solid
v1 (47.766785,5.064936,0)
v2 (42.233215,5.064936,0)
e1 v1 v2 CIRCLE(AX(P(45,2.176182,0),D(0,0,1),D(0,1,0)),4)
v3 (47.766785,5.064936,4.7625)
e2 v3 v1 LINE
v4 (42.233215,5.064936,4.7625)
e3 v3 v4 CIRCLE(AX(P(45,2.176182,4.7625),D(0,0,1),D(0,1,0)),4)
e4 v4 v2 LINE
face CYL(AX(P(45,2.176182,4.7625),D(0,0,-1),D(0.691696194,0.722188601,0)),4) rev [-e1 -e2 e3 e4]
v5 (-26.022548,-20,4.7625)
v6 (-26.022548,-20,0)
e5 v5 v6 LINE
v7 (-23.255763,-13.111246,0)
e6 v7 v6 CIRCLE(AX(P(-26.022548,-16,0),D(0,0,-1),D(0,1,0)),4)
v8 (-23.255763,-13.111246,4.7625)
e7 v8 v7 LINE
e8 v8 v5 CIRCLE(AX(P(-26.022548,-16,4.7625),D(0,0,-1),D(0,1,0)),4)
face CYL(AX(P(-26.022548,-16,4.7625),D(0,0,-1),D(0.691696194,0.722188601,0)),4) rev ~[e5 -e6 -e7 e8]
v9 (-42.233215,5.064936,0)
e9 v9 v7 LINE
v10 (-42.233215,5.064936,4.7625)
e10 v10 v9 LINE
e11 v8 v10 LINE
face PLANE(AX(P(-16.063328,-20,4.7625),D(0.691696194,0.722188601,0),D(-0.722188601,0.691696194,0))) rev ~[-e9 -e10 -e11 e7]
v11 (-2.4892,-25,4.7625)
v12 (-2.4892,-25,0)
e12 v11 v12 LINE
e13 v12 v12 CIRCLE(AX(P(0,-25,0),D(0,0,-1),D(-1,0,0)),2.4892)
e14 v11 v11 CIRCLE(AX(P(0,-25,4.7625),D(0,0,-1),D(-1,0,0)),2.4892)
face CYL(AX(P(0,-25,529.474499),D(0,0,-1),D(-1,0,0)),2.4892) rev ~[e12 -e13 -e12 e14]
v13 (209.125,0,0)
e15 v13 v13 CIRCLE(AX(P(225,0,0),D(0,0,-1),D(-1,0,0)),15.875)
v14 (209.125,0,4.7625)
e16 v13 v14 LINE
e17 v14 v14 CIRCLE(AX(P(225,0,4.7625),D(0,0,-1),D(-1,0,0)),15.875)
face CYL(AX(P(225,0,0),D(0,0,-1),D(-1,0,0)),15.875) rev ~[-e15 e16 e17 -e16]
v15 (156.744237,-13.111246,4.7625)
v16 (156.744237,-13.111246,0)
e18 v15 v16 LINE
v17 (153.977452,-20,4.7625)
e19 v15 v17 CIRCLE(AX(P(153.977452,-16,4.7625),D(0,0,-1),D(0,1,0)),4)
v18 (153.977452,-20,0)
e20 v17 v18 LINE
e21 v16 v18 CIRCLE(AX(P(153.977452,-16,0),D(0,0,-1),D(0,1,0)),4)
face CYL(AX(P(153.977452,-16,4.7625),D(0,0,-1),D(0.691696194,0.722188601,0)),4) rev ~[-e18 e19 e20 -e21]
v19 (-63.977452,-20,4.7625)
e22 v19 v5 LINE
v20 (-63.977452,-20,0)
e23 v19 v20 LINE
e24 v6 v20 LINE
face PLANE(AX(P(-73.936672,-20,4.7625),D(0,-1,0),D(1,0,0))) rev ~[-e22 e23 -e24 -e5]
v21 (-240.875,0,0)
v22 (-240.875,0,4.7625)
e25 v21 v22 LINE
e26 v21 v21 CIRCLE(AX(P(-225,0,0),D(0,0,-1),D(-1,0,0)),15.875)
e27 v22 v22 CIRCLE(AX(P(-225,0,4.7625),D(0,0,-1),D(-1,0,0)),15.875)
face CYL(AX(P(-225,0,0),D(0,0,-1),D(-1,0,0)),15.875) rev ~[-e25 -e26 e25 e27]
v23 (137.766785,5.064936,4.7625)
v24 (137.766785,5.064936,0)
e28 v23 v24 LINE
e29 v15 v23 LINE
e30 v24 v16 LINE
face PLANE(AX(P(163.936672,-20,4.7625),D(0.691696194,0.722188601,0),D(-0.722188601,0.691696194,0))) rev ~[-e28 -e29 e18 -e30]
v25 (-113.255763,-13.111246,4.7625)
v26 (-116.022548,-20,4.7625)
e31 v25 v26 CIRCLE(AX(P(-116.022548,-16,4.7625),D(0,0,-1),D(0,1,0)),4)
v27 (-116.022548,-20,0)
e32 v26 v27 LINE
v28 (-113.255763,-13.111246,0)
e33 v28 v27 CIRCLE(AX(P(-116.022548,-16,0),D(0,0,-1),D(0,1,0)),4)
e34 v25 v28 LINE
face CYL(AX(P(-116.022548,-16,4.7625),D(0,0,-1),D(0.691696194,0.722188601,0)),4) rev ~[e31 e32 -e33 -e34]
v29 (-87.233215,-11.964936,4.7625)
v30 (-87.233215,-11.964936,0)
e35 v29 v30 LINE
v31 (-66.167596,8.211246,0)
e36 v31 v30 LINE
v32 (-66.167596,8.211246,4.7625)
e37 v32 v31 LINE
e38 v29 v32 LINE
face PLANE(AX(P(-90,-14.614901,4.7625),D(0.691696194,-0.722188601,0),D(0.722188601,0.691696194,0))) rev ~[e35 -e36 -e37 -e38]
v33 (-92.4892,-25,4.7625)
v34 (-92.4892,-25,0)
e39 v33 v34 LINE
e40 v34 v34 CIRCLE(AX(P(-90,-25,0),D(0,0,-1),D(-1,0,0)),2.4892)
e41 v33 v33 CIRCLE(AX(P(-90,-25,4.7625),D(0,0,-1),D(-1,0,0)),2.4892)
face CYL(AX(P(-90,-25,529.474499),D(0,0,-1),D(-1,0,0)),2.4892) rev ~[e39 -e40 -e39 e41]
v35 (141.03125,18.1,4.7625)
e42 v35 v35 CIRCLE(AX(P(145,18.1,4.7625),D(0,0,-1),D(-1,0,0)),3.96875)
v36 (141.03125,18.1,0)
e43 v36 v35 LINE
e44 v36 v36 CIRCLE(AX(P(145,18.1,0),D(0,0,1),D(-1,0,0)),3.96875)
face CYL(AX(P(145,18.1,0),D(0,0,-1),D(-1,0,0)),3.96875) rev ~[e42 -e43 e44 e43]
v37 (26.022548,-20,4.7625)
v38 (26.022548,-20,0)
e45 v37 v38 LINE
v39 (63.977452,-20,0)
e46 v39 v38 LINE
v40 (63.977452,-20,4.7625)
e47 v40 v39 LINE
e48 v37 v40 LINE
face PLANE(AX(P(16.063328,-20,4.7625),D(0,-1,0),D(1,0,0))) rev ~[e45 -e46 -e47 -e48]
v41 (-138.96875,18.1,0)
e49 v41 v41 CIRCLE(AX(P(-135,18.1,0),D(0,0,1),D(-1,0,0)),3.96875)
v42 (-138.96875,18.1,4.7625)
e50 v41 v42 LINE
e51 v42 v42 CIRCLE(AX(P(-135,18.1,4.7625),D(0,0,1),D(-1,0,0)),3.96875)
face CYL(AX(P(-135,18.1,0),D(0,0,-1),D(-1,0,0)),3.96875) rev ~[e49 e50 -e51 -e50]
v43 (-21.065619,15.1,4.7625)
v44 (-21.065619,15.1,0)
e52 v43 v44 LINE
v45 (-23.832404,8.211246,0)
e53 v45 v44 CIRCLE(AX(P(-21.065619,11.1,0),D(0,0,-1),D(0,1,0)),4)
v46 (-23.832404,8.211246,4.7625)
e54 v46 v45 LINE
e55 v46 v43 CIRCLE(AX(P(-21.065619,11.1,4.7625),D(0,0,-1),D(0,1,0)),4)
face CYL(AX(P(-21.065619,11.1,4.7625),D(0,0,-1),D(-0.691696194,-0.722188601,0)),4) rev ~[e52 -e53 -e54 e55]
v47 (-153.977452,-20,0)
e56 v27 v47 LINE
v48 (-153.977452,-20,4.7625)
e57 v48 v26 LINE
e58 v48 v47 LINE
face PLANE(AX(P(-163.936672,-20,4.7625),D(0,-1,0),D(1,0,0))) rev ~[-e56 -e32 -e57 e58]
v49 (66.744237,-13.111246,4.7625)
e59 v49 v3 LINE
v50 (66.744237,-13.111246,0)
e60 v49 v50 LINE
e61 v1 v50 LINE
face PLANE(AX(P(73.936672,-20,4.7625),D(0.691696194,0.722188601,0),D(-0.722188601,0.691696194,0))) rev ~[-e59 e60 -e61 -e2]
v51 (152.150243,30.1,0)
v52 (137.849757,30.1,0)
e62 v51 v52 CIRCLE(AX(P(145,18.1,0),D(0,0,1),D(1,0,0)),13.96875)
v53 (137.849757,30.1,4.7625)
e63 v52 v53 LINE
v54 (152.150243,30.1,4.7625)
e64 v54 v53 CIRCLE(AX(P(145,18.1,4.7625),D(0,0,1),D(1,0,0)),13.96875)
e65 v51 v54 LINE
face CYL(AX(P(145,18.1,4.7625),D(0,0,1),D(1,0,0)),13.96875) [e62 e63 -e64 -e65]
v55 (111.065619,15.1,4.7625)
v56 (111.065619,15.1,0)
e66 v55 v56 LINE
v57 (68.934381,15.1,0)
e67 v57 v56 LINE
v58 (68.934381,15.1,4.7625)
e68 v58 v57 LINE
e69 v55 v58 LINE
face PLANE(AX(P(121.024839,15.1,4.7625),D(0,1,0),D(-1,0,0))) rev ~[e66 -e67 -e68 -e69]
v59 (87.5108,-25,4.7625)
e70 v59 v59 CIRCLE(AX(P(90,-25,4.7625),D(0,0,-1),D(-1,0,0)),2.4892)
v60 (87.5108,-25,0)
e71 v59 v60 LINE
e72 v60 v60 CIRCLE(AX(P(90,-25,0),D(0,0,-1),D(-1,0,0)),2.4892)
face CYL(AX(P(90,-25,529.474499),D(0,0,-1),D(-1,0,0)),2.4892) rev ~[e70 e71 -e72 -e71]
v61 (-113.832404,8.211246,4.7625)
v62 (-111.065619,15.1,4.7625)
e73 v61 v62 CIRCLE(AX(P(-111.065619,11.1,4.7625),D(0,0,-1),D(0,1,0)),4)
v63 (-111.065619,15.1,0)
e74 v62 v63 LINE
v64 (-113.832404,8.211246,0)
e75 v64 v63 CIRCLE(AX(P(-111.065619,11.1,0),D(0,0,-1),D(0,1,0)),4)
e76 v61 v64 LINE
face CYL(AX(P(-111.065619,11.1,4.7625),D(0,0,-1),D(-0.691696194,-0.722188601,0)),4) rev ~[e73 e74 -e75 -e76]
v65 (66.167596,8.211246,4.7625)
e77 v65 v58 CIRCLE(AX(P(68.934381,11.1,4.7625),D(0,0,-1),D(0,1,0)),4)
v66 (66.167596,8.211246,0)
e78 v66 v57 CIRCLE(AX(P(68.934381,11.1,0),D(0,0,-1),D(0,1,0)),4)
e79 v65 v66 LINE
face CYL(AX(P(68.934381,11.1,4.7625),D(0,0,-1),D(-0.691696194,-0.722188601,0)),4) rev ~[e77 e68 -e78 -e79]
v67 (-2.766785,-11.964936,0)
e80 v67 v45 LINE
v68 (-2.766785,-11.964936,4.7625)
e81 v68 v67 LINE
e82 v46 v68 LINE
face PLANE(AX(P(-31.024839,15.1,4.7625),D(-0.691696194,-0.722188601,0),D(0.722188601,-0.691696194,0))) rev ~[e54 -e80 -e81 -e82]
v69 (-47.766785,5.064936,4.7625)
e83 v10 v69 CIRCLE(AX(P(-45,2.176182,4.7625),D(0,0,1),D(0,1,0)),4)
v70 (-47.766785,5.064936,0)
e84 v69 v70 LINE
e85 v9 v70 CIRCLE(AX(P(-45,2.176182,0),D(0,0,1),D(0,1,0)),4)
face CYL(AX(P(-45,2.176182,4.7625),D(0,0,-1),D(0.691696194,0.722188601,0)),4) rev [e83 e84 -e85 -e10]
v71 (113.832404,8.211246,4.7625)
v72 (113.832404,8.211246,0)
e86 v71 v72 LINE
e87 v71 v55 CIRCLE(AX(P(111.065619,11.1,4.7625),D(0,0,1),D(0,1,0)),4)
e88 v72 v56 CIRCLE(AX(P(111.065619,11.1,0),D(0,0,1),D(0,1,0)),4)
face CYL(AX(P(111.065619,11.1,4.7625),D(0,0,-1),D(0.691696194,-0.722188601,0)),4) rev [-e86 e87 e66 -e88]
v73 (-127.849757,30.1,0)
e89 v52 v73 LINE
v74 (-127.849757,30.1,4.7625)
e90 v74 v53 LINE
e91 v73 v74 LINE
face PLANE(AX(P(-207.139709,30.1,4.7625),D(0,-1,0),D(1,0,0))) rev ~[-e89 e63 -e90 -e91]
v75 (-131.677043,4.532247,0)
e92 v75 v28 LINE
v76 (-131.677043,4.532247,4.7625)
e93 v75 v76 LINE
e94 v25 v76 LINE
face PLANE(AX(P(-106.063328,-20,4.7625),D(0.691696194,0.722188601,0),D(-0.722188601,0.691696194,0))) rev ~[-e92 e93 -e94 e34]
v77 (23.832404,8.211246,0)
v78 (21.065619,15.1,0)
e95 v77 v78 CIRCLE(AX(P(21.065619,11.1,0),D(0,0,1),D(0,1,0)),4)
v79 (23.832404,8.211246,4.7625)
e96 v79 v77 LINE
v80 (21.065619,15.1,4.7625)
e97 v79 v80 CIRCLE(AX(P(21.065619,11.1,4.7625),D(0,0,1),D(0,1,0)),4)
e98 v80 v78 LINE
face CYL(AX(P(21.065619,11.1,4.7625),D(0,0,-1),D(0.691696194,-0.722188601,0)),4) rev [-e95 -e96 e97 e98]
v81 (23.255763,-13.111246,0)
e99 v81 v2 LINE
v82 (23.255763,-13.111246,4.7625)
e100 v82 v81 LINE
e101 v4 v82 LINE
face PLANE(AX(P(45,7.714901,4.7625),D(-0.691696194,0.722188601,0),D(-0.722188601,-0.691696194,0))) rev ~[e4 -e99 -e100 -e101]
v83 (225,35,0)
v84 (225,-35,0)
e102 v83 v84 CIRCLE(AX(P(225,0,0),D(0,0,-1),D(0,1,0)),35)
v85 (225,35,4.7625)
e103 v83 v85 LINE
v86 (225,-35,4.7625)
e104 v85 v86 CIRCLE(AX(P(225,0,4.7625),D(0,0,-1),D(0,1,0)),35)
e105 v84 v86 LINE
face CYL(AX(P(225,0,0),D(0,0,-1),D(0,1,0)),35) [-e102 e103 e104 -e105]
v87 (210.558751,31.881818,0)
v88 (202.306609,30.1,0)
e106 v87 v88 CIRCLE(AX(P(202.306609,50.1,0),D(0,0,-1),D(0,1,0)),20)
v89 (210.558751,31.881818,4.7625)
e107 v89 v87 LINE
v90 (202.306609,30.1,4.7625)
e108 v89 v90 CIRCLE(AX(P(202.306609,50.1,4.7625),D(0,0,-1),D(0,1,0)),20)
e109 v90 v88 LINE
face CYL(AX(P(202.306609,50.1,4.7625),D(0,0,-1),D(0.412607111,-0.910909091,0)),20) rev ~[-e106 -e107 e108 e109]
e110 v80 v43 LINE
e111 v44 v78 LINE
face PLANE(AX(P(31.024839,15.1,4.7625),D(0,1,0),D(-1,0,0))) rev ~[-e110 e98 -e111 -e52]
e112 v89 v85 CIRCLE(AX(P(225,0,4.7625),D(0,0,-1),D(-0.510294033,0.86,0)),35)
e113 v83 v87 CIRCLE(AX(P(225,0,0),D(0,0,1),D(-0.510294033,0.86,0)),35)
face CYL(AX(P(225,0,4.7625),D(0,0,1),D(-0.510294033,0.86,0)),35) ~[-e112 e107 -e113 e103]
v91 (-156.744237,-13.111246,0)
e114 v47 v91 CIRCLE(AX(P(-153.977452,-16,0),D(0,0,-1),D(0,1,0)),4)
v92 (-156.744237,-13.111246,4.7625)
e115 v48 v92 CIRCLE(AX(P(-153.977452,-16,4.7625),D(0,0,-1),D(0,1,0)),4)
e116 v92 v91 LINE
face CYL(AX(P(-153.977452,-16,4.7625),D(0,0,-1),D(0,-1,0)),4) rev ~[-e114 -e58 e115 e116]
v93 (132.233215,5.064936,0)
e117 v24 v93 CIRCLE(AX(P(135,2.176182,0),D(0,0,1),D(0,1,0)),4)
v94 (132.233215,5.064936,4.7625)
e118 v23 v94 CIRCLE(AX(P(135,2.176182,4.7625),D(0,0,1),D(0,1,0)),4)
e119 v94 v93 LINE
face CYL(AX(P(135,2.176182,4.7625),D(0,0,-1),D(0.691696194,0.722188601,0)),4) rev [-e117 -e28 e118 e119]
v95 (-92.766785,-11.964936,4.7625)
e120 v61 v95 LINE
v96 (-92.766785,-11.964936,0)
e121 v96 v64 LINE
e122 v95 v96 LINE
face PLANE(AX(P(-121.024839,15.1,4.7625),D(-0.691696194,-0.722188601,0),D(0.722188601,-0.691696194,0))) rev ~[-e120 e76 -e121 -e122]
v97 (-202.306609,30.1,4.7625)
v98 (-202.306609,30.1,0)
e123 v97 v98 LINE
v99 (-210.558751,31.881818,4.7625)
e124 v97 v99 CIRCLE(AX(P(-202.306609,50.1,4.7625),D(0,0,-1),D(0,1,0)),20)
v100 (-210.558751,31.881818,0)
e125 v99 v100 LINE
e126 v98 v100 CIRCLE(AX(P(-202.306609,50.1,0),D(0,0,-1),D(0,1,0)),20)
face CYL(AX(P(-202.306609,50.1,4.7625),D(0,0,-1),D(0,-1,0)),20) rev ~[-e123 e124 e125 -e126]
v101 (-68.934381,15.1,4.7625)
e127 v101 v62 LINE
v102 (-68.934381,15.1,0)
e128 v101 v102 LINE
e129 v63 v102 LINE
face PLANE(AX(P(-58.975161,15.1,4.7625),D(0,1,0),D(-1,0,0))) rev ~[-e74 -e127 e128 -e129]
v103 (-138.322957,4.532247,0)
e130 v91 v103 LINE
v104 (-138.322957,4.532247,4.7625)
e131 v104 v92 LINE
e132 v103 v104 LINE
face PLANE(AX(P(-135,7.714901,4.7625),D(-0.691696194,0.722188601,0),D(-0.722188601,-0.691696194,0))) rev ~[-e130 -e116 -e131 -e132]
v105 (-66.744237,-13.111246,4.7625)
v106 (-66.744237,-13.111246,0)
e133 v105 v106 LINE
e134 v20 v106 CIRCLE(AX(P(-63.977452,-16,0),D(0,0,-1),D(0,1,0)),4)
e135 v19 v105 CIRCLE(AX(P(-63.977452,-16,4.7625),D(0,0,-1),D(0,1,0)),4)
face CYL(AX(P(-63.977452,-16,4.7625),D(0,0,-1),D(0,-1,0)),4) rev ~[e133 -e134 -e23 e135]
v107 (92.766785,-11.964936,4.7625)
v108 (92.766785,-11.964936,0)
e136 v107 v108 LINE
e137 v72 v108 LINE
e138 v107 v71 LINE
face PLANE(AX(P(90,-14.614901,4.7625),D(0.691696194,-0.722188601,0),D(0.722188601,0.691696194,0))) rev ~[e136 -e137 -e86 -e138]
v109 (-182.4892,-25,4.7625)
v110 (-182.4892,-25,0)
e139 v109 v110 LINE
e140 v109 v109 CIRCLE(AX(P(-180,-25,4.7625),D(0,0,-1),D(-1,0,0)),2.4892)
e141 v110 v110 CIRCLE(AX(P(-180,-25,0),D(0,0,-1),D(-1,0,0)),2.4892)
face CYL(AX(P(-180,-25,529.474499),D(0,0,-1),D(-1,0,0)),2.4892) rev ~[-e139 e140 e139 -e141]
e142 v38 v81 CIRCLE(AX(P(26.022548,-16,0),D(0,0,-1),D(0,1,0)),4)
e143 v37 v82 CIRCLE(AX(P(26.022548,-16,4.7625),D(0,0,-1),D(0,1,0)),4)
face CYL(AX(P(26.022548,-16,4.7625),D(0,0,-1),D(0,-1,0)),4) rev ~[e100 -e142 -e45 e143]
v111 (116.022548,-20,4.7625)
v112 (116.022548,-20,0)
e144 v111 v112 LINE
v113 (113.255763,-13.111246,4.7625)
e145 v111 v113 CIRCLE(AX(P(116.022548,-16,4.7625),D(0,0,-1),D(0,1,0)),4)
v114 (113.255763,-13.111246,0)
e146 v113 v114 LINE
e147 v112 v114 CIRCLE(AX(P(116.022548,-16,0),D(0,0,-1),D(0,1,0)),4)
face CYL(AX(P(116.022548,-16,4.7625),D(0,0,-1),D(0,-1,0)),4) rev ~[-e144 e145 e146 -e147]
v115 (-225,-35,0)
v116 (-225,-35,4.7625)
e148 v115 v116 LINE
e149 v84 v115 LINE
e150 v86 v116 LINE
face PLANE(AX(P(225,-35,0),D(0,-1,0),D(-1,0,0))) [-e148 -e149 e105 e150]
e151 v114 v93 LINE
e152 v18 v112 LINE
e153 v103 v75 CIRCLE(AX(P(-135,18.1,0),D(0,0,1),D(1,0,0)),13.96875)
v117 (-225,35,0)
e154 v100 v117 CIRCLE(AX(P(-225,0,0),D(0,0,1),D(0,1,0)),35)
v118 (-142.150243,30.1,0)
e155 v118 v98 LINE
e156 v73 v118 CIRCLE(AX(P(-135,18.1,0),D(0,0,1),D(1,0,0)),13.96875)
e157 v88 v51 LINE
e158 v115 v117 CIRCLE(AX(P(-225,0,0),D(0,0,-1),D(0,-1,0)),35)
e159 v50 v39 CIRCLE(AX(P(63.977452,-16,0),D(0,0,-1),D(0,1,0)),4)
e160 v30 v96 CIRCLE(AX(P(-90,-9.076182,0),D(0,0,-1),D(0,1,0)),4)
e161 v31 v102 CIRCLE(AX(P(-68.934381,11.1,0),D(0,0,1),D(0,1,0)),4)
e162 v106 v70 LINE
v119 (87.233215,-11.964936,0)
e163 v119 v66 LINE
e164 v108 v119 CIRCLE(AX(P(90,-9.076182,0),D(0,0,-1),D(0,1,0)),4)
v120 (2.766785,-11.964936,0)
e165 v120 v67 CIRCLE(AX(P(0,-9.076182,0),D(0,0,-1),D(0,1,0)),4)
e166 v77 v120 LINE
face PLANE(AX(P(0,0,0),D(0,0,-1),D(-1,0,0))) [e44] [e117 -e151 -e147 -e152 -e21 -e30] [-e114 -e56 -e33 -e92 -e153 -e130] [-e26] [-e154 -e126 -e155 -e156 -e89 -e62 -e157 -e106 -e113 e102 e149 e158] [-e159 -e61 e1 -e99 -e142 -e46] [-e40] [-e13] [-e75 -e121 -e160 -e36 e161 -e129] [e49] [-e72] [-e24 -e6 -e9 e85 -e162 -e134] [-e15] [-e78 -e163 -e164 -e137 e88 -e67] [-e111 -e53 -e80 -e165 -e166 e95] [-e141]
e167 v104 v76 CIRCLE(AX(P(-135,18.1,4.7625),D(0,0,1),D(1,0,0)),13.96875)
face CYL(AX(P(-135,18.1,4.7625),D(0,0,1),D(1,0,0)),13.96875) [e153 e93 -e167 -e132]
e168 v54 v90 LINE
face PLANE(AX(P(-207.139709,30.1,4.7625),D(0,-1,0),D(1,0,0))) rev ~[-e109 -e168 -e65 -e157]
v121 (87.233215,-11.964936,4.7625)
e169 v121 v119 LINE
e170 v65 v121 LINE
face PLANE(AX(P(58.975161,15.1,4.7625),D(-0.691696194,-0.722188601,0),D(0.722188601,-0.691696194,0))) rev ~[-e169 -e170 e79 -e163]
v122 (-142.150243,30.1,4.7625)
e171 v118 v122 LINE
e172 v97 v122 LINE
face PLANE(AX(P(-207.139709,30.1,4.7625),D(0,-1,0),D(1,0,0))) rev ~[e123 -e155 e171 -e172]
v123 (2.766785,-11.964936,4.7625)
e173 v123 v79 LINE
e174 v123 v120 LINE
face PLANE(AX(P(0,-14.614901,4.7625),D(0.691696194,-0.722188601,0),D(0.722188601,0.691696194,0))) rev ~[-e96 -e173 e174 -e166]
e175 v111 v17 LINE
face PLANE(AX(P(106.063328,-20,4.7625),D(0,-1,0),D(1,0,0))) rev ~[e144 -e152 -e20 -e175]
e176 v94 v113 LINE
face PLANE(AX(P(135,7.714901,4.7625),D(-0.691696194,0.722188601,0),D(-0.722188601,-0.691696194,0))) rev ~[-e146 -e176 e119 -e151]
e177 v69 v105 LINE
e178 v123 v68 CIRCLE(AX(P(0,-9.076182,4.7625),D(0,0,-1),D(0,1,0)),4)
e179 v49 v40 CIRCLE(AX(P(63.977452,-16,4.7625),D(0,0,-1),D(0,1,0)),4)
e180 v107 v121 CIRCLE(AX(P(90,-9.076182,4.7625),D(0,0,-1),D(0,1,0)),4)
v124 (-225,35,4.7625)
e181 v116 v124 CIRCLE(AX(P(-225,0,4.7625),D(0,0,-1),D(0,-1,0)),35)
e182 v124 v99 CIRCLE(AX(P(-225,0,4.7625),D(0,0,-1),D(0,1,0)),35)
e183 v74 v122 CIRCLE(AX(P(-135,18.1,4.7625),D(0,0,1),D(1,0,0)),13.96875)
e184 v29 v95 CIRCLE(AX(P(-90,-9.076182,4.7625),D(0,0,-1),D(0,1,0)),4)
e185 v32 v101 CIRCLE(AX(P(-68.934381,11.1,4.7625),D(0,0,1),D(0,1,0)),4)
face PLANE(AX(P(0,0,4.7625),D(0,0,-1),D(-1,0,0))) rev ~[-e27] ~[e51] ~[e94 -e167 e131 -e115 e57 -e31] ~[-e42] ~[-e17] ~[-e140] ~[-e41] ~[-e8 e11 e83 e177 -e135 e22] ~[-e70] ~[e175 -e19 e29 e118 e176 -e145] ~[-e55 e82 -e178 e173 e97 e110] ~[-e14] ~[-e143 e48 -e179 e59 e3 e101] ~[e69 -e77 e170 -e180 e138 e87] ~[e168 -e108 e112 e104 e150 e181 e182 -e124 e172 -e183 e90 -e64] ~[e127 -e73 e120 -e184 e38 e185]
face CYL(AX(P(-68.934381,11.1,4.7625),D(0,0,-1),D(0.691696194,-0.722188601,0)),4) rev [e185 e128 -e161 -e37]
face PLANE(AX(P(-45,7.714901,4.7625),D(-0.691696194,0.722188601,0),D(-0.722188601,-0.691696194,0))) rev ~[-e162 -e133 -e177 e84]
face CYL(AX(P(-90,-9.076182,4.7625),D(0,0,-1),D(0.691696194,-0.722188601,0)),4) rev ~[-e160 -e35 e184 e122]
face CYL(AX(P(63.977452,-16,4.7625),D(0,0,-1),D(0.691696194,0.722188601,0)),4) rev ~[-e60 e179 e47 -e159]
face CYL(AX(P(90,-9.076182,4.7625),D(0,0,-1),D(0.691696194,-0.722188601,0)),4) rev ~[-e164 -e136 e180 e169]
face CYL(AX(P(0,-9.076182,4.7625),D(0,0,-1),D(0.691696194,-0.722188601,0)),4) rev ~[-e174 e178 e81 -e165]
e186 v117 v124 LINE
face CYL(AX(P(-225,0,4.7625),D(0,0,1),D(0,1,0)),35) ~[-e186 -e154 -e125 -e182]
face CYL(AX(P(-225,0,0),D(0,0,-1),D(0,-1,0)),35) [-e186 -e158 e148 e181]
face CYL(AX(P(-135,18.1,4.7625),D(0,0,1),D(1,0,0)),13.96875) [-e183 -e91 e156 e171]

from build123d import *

# Parameters (mm, degrees)
BOSS_EXTRUDE1_DEPTH     = 4.7625
SKETCH2_R               = 3.96875
SKETCH2_R_2             = 15.875
CUT_EXTRUDE1_DEPTH      = 1
CUT_EXTRUDE1_DEPTH_BACK = 5.7625
F_10_CLEARANCE_HOLE2_D  = 4.9784
CUT_EXTRUDE3_DEPTH      = 5.7625
CUT_EXTRUDE4_DEPTH      = 5.7625
FILLET1_R               = 4
LPATTERN1_COUNT         = 4
LPATTERN1_PITCH         = 90
FILLET1_OF_LPATTERN1_R  = 4
CUT_EXTRUDE5_DEPTH      = 5.7625
FILLET2_R               = 4
LPATTERN2_COUNT         = 3
LPATTERN2_PITCH         = 90
FILLET2_OF_LPATTERN2_R  = 4
SKETCH13_R              = 13.96875
SKETCH13_R_2            = 3.96875
BOSS_EXTRUDE2_DEPTH     = 4.7625
FILLET3_R               = 20


with BuildPart() as part:
    # Sketch1 → Boss-Extrude1 (new body)
    with BuildSketch(Plane.XY):
        with BuildLine():
            Line((-225, 35), (225, 35))
            ThreePointArc((225, 35), (260, 0), (225, -35))
            Line((225, -35), (-225, -35))
            ThreePointArc((-225, -35), (-260, 0), (-225, 35))
        make_face()
    extrude(amount=BOSS_EXTRUDE1_DEPTH)

    # Sketch2 → Cut-Extrude1 (cut, two sides)
    with BuildSketch(Plane(origin=(0, 0, 0), x_dir=(-1, 0, 0), z_dir=(0, 0, -1))) as cut_extrude1_sk:
        with Locations((-145, 18.1)):
            Circle(SKETCH2_R)
        with Locations((135, 18.1)):
            Circle(SKETCH2_R)
        with Locations((-225, 0)):
            Circle(SKETCH2_R_2)
        with Locations((225, 0)):
            Circle(SKETCH2_R_2)
    extrude(amount=CUT_EXTRUDE1_DEPTH, mode=Mode.SUBTRACT)
    extrude(cut_extrude1_sk.sketch, amount=-CUT_EXTRUDE1_DEPTH_BACK, mode=Mode.SUBTRACT)

    # #10 Clearance Hole2 (through all)
    with Locations(Plane.XY.offset(4.7625)):
        with Locations((-180, -25), (-90, -25), (0, -25), (90, -25)):
            Hole(F_10_CLEARANCE_HOLE2_D / 2)

    # Sketch16 → Cut-Extrude3 (cut, through all)
    with BuildSketch(Plane.XY.offset(4.7625)):
        with BuildLine():
            Line((-207.139708849, 30.1), (207.139708849, 30.1))
            ThreePointArc((207.139708849, 30.1), (215.739870411, 33.752777663), (225, 35))
            Line((225, 35), (-225, 35))
            ThreePointArc((-225, 35), (-215.739870411, 33.752777663), (-207.139708849, 30.1))
        make_face()
    extrude(amount=-CUT_EXTRUDE3_DEPTH, mode=Mode.SUBTRACT)

    # Sketch17 → Cut-Extrude4 (cut, through all)
    with BuildSketch(Plane.XY.offset(4.7625)):
        Polygon((-106.063328248, -20), (-135, 7.714901167), (-163.936671752, -20), align=None)
    cut_extrude4 = extrude(amount=-CUT_EXTRUDE4_DEPTH, mode=Mode.SUBTRACT)

    # Fillet1
    fillet1_edges = [part.edges().sort_by_distance(p)[0] for p in [
        (-163.936671752, -20, 2.38125),
        (-135, 7.714901167, 2.38125),
        (-106.063328248, -20, 2.38125),
    ]]
    fillet(fillet1_edges, radius=FILLET1_R)

    # LPattern1: Cut-Extrude4 ×4
    with Locations(*[(i * LPATTERN1_PITCH, 0, 0) for i in range(1, LPATTERN1_COUNT)]):
        add(cut_extrude4, mode=Mode.SUBTRACT)

    # Fillet1 of LPattern1
    fillet1_of_lpattern1_edges = [part.edges().sort_by_distance(p)[0] for p in [
        (-73.936671752, -20, 2.38125),
        (-45, 7.714901167, 2.38125),
        (-16.063328248, -20, 2.38125),
        (16.063328248, -20, 2.38125),
        (45, 7.714901167, 2.38125),
        (73.936671752, -20, 2.38125),
        (106.063328248, -20, 2.38125),
        (135, 7.714901167, 2.38125),
        (163.936671752, -20, 2.38125),
    ]]
    fillet(fillet1_of_lpattern1_edges, radius=FILLET1_OF_LPATTERN1_R)

    # Sketch18 → Cut-Extrude5 (cut, through all)
    with BuildSketch(Plane.XY.offset(4.7625)):
        Polygon((-90, -14.614901167), (-58.975161195, 15.1), (-121.024838805, 15.1), align=None)
    cut_extrude5 = extrude(amount=-CUT_EXTRUDE5_DEPTH, mode=Mode.SUBTRACT)

    # Fillet2
    fillet2_edges = [part.edges().sort_by_distance(p)[0] for p in [
        (-121.024838805, 15.1, 2.38125),
        (-58.975161195, 15.1, 2.38125),
        (-90, -14.614901167, 2.38125),
    ]]
    fillet(fillet2_edges, radius=FILLET2_R)

    # LPattern2: Cut-Extrude5 ×3
    with Locations(*[(i * LPATTERN2_PITCH, 0, 0) for i in range(1, LPATTERN2_COUNT)]):
        add(cut_extrude5, mode=Mode.SUBTRACT)

    # Fillet2 of LPattern2
    fillet2_of_lpattern2_edges = [part.edges().sort_by_distance(p)[0] for p in [
        (-31.024838805, 15.1, 2.38125),
        (31.024838805, 15.1, 2.38125),
        (0, -14.614901167, 2.38125),
        (58.975161195, 15.1, 2.38125),
        (121.024838805, 15.1, 2.38125),
        (90, -14.614901167, 2.38125),
    ]]
    fillet(fillet2_of_lpattern2_edges, radius=FILLET2_OF_LPATTERN2_R)

    # Sketch13 → Boss-Extrude2 (add)
    with BuildSketch(Plane.XY.offset(4.7625)):
        with Locations((-135, 18.1)):
            Circle(SKETCH13_R)
        with Locations((-135, 18.1)):
            Circle(SKETCH13_R_2, mode=Mode.SUBTRACT)
        with Locations((145, 18.1)):
            Circle(SKETCH13_R)
        with Locations((145, 18.1)):
            Circle(SKETCH13_R_2, mode=Mode.SUBTRACT)
    extrude(amount=-BOSS_EXTRUDE2_DEPTH)

    # Fillet3
    fillet3_edges = [part.edges().sort_by_distance(p)[0] for p in [
        (-207.139708849, 30.1, 2.38125),
        (207.139708849, 30.1, 2.38125),
    ]]
    fillet(fillet3_edges, radius=FILLET3_R)


solid = part.part
